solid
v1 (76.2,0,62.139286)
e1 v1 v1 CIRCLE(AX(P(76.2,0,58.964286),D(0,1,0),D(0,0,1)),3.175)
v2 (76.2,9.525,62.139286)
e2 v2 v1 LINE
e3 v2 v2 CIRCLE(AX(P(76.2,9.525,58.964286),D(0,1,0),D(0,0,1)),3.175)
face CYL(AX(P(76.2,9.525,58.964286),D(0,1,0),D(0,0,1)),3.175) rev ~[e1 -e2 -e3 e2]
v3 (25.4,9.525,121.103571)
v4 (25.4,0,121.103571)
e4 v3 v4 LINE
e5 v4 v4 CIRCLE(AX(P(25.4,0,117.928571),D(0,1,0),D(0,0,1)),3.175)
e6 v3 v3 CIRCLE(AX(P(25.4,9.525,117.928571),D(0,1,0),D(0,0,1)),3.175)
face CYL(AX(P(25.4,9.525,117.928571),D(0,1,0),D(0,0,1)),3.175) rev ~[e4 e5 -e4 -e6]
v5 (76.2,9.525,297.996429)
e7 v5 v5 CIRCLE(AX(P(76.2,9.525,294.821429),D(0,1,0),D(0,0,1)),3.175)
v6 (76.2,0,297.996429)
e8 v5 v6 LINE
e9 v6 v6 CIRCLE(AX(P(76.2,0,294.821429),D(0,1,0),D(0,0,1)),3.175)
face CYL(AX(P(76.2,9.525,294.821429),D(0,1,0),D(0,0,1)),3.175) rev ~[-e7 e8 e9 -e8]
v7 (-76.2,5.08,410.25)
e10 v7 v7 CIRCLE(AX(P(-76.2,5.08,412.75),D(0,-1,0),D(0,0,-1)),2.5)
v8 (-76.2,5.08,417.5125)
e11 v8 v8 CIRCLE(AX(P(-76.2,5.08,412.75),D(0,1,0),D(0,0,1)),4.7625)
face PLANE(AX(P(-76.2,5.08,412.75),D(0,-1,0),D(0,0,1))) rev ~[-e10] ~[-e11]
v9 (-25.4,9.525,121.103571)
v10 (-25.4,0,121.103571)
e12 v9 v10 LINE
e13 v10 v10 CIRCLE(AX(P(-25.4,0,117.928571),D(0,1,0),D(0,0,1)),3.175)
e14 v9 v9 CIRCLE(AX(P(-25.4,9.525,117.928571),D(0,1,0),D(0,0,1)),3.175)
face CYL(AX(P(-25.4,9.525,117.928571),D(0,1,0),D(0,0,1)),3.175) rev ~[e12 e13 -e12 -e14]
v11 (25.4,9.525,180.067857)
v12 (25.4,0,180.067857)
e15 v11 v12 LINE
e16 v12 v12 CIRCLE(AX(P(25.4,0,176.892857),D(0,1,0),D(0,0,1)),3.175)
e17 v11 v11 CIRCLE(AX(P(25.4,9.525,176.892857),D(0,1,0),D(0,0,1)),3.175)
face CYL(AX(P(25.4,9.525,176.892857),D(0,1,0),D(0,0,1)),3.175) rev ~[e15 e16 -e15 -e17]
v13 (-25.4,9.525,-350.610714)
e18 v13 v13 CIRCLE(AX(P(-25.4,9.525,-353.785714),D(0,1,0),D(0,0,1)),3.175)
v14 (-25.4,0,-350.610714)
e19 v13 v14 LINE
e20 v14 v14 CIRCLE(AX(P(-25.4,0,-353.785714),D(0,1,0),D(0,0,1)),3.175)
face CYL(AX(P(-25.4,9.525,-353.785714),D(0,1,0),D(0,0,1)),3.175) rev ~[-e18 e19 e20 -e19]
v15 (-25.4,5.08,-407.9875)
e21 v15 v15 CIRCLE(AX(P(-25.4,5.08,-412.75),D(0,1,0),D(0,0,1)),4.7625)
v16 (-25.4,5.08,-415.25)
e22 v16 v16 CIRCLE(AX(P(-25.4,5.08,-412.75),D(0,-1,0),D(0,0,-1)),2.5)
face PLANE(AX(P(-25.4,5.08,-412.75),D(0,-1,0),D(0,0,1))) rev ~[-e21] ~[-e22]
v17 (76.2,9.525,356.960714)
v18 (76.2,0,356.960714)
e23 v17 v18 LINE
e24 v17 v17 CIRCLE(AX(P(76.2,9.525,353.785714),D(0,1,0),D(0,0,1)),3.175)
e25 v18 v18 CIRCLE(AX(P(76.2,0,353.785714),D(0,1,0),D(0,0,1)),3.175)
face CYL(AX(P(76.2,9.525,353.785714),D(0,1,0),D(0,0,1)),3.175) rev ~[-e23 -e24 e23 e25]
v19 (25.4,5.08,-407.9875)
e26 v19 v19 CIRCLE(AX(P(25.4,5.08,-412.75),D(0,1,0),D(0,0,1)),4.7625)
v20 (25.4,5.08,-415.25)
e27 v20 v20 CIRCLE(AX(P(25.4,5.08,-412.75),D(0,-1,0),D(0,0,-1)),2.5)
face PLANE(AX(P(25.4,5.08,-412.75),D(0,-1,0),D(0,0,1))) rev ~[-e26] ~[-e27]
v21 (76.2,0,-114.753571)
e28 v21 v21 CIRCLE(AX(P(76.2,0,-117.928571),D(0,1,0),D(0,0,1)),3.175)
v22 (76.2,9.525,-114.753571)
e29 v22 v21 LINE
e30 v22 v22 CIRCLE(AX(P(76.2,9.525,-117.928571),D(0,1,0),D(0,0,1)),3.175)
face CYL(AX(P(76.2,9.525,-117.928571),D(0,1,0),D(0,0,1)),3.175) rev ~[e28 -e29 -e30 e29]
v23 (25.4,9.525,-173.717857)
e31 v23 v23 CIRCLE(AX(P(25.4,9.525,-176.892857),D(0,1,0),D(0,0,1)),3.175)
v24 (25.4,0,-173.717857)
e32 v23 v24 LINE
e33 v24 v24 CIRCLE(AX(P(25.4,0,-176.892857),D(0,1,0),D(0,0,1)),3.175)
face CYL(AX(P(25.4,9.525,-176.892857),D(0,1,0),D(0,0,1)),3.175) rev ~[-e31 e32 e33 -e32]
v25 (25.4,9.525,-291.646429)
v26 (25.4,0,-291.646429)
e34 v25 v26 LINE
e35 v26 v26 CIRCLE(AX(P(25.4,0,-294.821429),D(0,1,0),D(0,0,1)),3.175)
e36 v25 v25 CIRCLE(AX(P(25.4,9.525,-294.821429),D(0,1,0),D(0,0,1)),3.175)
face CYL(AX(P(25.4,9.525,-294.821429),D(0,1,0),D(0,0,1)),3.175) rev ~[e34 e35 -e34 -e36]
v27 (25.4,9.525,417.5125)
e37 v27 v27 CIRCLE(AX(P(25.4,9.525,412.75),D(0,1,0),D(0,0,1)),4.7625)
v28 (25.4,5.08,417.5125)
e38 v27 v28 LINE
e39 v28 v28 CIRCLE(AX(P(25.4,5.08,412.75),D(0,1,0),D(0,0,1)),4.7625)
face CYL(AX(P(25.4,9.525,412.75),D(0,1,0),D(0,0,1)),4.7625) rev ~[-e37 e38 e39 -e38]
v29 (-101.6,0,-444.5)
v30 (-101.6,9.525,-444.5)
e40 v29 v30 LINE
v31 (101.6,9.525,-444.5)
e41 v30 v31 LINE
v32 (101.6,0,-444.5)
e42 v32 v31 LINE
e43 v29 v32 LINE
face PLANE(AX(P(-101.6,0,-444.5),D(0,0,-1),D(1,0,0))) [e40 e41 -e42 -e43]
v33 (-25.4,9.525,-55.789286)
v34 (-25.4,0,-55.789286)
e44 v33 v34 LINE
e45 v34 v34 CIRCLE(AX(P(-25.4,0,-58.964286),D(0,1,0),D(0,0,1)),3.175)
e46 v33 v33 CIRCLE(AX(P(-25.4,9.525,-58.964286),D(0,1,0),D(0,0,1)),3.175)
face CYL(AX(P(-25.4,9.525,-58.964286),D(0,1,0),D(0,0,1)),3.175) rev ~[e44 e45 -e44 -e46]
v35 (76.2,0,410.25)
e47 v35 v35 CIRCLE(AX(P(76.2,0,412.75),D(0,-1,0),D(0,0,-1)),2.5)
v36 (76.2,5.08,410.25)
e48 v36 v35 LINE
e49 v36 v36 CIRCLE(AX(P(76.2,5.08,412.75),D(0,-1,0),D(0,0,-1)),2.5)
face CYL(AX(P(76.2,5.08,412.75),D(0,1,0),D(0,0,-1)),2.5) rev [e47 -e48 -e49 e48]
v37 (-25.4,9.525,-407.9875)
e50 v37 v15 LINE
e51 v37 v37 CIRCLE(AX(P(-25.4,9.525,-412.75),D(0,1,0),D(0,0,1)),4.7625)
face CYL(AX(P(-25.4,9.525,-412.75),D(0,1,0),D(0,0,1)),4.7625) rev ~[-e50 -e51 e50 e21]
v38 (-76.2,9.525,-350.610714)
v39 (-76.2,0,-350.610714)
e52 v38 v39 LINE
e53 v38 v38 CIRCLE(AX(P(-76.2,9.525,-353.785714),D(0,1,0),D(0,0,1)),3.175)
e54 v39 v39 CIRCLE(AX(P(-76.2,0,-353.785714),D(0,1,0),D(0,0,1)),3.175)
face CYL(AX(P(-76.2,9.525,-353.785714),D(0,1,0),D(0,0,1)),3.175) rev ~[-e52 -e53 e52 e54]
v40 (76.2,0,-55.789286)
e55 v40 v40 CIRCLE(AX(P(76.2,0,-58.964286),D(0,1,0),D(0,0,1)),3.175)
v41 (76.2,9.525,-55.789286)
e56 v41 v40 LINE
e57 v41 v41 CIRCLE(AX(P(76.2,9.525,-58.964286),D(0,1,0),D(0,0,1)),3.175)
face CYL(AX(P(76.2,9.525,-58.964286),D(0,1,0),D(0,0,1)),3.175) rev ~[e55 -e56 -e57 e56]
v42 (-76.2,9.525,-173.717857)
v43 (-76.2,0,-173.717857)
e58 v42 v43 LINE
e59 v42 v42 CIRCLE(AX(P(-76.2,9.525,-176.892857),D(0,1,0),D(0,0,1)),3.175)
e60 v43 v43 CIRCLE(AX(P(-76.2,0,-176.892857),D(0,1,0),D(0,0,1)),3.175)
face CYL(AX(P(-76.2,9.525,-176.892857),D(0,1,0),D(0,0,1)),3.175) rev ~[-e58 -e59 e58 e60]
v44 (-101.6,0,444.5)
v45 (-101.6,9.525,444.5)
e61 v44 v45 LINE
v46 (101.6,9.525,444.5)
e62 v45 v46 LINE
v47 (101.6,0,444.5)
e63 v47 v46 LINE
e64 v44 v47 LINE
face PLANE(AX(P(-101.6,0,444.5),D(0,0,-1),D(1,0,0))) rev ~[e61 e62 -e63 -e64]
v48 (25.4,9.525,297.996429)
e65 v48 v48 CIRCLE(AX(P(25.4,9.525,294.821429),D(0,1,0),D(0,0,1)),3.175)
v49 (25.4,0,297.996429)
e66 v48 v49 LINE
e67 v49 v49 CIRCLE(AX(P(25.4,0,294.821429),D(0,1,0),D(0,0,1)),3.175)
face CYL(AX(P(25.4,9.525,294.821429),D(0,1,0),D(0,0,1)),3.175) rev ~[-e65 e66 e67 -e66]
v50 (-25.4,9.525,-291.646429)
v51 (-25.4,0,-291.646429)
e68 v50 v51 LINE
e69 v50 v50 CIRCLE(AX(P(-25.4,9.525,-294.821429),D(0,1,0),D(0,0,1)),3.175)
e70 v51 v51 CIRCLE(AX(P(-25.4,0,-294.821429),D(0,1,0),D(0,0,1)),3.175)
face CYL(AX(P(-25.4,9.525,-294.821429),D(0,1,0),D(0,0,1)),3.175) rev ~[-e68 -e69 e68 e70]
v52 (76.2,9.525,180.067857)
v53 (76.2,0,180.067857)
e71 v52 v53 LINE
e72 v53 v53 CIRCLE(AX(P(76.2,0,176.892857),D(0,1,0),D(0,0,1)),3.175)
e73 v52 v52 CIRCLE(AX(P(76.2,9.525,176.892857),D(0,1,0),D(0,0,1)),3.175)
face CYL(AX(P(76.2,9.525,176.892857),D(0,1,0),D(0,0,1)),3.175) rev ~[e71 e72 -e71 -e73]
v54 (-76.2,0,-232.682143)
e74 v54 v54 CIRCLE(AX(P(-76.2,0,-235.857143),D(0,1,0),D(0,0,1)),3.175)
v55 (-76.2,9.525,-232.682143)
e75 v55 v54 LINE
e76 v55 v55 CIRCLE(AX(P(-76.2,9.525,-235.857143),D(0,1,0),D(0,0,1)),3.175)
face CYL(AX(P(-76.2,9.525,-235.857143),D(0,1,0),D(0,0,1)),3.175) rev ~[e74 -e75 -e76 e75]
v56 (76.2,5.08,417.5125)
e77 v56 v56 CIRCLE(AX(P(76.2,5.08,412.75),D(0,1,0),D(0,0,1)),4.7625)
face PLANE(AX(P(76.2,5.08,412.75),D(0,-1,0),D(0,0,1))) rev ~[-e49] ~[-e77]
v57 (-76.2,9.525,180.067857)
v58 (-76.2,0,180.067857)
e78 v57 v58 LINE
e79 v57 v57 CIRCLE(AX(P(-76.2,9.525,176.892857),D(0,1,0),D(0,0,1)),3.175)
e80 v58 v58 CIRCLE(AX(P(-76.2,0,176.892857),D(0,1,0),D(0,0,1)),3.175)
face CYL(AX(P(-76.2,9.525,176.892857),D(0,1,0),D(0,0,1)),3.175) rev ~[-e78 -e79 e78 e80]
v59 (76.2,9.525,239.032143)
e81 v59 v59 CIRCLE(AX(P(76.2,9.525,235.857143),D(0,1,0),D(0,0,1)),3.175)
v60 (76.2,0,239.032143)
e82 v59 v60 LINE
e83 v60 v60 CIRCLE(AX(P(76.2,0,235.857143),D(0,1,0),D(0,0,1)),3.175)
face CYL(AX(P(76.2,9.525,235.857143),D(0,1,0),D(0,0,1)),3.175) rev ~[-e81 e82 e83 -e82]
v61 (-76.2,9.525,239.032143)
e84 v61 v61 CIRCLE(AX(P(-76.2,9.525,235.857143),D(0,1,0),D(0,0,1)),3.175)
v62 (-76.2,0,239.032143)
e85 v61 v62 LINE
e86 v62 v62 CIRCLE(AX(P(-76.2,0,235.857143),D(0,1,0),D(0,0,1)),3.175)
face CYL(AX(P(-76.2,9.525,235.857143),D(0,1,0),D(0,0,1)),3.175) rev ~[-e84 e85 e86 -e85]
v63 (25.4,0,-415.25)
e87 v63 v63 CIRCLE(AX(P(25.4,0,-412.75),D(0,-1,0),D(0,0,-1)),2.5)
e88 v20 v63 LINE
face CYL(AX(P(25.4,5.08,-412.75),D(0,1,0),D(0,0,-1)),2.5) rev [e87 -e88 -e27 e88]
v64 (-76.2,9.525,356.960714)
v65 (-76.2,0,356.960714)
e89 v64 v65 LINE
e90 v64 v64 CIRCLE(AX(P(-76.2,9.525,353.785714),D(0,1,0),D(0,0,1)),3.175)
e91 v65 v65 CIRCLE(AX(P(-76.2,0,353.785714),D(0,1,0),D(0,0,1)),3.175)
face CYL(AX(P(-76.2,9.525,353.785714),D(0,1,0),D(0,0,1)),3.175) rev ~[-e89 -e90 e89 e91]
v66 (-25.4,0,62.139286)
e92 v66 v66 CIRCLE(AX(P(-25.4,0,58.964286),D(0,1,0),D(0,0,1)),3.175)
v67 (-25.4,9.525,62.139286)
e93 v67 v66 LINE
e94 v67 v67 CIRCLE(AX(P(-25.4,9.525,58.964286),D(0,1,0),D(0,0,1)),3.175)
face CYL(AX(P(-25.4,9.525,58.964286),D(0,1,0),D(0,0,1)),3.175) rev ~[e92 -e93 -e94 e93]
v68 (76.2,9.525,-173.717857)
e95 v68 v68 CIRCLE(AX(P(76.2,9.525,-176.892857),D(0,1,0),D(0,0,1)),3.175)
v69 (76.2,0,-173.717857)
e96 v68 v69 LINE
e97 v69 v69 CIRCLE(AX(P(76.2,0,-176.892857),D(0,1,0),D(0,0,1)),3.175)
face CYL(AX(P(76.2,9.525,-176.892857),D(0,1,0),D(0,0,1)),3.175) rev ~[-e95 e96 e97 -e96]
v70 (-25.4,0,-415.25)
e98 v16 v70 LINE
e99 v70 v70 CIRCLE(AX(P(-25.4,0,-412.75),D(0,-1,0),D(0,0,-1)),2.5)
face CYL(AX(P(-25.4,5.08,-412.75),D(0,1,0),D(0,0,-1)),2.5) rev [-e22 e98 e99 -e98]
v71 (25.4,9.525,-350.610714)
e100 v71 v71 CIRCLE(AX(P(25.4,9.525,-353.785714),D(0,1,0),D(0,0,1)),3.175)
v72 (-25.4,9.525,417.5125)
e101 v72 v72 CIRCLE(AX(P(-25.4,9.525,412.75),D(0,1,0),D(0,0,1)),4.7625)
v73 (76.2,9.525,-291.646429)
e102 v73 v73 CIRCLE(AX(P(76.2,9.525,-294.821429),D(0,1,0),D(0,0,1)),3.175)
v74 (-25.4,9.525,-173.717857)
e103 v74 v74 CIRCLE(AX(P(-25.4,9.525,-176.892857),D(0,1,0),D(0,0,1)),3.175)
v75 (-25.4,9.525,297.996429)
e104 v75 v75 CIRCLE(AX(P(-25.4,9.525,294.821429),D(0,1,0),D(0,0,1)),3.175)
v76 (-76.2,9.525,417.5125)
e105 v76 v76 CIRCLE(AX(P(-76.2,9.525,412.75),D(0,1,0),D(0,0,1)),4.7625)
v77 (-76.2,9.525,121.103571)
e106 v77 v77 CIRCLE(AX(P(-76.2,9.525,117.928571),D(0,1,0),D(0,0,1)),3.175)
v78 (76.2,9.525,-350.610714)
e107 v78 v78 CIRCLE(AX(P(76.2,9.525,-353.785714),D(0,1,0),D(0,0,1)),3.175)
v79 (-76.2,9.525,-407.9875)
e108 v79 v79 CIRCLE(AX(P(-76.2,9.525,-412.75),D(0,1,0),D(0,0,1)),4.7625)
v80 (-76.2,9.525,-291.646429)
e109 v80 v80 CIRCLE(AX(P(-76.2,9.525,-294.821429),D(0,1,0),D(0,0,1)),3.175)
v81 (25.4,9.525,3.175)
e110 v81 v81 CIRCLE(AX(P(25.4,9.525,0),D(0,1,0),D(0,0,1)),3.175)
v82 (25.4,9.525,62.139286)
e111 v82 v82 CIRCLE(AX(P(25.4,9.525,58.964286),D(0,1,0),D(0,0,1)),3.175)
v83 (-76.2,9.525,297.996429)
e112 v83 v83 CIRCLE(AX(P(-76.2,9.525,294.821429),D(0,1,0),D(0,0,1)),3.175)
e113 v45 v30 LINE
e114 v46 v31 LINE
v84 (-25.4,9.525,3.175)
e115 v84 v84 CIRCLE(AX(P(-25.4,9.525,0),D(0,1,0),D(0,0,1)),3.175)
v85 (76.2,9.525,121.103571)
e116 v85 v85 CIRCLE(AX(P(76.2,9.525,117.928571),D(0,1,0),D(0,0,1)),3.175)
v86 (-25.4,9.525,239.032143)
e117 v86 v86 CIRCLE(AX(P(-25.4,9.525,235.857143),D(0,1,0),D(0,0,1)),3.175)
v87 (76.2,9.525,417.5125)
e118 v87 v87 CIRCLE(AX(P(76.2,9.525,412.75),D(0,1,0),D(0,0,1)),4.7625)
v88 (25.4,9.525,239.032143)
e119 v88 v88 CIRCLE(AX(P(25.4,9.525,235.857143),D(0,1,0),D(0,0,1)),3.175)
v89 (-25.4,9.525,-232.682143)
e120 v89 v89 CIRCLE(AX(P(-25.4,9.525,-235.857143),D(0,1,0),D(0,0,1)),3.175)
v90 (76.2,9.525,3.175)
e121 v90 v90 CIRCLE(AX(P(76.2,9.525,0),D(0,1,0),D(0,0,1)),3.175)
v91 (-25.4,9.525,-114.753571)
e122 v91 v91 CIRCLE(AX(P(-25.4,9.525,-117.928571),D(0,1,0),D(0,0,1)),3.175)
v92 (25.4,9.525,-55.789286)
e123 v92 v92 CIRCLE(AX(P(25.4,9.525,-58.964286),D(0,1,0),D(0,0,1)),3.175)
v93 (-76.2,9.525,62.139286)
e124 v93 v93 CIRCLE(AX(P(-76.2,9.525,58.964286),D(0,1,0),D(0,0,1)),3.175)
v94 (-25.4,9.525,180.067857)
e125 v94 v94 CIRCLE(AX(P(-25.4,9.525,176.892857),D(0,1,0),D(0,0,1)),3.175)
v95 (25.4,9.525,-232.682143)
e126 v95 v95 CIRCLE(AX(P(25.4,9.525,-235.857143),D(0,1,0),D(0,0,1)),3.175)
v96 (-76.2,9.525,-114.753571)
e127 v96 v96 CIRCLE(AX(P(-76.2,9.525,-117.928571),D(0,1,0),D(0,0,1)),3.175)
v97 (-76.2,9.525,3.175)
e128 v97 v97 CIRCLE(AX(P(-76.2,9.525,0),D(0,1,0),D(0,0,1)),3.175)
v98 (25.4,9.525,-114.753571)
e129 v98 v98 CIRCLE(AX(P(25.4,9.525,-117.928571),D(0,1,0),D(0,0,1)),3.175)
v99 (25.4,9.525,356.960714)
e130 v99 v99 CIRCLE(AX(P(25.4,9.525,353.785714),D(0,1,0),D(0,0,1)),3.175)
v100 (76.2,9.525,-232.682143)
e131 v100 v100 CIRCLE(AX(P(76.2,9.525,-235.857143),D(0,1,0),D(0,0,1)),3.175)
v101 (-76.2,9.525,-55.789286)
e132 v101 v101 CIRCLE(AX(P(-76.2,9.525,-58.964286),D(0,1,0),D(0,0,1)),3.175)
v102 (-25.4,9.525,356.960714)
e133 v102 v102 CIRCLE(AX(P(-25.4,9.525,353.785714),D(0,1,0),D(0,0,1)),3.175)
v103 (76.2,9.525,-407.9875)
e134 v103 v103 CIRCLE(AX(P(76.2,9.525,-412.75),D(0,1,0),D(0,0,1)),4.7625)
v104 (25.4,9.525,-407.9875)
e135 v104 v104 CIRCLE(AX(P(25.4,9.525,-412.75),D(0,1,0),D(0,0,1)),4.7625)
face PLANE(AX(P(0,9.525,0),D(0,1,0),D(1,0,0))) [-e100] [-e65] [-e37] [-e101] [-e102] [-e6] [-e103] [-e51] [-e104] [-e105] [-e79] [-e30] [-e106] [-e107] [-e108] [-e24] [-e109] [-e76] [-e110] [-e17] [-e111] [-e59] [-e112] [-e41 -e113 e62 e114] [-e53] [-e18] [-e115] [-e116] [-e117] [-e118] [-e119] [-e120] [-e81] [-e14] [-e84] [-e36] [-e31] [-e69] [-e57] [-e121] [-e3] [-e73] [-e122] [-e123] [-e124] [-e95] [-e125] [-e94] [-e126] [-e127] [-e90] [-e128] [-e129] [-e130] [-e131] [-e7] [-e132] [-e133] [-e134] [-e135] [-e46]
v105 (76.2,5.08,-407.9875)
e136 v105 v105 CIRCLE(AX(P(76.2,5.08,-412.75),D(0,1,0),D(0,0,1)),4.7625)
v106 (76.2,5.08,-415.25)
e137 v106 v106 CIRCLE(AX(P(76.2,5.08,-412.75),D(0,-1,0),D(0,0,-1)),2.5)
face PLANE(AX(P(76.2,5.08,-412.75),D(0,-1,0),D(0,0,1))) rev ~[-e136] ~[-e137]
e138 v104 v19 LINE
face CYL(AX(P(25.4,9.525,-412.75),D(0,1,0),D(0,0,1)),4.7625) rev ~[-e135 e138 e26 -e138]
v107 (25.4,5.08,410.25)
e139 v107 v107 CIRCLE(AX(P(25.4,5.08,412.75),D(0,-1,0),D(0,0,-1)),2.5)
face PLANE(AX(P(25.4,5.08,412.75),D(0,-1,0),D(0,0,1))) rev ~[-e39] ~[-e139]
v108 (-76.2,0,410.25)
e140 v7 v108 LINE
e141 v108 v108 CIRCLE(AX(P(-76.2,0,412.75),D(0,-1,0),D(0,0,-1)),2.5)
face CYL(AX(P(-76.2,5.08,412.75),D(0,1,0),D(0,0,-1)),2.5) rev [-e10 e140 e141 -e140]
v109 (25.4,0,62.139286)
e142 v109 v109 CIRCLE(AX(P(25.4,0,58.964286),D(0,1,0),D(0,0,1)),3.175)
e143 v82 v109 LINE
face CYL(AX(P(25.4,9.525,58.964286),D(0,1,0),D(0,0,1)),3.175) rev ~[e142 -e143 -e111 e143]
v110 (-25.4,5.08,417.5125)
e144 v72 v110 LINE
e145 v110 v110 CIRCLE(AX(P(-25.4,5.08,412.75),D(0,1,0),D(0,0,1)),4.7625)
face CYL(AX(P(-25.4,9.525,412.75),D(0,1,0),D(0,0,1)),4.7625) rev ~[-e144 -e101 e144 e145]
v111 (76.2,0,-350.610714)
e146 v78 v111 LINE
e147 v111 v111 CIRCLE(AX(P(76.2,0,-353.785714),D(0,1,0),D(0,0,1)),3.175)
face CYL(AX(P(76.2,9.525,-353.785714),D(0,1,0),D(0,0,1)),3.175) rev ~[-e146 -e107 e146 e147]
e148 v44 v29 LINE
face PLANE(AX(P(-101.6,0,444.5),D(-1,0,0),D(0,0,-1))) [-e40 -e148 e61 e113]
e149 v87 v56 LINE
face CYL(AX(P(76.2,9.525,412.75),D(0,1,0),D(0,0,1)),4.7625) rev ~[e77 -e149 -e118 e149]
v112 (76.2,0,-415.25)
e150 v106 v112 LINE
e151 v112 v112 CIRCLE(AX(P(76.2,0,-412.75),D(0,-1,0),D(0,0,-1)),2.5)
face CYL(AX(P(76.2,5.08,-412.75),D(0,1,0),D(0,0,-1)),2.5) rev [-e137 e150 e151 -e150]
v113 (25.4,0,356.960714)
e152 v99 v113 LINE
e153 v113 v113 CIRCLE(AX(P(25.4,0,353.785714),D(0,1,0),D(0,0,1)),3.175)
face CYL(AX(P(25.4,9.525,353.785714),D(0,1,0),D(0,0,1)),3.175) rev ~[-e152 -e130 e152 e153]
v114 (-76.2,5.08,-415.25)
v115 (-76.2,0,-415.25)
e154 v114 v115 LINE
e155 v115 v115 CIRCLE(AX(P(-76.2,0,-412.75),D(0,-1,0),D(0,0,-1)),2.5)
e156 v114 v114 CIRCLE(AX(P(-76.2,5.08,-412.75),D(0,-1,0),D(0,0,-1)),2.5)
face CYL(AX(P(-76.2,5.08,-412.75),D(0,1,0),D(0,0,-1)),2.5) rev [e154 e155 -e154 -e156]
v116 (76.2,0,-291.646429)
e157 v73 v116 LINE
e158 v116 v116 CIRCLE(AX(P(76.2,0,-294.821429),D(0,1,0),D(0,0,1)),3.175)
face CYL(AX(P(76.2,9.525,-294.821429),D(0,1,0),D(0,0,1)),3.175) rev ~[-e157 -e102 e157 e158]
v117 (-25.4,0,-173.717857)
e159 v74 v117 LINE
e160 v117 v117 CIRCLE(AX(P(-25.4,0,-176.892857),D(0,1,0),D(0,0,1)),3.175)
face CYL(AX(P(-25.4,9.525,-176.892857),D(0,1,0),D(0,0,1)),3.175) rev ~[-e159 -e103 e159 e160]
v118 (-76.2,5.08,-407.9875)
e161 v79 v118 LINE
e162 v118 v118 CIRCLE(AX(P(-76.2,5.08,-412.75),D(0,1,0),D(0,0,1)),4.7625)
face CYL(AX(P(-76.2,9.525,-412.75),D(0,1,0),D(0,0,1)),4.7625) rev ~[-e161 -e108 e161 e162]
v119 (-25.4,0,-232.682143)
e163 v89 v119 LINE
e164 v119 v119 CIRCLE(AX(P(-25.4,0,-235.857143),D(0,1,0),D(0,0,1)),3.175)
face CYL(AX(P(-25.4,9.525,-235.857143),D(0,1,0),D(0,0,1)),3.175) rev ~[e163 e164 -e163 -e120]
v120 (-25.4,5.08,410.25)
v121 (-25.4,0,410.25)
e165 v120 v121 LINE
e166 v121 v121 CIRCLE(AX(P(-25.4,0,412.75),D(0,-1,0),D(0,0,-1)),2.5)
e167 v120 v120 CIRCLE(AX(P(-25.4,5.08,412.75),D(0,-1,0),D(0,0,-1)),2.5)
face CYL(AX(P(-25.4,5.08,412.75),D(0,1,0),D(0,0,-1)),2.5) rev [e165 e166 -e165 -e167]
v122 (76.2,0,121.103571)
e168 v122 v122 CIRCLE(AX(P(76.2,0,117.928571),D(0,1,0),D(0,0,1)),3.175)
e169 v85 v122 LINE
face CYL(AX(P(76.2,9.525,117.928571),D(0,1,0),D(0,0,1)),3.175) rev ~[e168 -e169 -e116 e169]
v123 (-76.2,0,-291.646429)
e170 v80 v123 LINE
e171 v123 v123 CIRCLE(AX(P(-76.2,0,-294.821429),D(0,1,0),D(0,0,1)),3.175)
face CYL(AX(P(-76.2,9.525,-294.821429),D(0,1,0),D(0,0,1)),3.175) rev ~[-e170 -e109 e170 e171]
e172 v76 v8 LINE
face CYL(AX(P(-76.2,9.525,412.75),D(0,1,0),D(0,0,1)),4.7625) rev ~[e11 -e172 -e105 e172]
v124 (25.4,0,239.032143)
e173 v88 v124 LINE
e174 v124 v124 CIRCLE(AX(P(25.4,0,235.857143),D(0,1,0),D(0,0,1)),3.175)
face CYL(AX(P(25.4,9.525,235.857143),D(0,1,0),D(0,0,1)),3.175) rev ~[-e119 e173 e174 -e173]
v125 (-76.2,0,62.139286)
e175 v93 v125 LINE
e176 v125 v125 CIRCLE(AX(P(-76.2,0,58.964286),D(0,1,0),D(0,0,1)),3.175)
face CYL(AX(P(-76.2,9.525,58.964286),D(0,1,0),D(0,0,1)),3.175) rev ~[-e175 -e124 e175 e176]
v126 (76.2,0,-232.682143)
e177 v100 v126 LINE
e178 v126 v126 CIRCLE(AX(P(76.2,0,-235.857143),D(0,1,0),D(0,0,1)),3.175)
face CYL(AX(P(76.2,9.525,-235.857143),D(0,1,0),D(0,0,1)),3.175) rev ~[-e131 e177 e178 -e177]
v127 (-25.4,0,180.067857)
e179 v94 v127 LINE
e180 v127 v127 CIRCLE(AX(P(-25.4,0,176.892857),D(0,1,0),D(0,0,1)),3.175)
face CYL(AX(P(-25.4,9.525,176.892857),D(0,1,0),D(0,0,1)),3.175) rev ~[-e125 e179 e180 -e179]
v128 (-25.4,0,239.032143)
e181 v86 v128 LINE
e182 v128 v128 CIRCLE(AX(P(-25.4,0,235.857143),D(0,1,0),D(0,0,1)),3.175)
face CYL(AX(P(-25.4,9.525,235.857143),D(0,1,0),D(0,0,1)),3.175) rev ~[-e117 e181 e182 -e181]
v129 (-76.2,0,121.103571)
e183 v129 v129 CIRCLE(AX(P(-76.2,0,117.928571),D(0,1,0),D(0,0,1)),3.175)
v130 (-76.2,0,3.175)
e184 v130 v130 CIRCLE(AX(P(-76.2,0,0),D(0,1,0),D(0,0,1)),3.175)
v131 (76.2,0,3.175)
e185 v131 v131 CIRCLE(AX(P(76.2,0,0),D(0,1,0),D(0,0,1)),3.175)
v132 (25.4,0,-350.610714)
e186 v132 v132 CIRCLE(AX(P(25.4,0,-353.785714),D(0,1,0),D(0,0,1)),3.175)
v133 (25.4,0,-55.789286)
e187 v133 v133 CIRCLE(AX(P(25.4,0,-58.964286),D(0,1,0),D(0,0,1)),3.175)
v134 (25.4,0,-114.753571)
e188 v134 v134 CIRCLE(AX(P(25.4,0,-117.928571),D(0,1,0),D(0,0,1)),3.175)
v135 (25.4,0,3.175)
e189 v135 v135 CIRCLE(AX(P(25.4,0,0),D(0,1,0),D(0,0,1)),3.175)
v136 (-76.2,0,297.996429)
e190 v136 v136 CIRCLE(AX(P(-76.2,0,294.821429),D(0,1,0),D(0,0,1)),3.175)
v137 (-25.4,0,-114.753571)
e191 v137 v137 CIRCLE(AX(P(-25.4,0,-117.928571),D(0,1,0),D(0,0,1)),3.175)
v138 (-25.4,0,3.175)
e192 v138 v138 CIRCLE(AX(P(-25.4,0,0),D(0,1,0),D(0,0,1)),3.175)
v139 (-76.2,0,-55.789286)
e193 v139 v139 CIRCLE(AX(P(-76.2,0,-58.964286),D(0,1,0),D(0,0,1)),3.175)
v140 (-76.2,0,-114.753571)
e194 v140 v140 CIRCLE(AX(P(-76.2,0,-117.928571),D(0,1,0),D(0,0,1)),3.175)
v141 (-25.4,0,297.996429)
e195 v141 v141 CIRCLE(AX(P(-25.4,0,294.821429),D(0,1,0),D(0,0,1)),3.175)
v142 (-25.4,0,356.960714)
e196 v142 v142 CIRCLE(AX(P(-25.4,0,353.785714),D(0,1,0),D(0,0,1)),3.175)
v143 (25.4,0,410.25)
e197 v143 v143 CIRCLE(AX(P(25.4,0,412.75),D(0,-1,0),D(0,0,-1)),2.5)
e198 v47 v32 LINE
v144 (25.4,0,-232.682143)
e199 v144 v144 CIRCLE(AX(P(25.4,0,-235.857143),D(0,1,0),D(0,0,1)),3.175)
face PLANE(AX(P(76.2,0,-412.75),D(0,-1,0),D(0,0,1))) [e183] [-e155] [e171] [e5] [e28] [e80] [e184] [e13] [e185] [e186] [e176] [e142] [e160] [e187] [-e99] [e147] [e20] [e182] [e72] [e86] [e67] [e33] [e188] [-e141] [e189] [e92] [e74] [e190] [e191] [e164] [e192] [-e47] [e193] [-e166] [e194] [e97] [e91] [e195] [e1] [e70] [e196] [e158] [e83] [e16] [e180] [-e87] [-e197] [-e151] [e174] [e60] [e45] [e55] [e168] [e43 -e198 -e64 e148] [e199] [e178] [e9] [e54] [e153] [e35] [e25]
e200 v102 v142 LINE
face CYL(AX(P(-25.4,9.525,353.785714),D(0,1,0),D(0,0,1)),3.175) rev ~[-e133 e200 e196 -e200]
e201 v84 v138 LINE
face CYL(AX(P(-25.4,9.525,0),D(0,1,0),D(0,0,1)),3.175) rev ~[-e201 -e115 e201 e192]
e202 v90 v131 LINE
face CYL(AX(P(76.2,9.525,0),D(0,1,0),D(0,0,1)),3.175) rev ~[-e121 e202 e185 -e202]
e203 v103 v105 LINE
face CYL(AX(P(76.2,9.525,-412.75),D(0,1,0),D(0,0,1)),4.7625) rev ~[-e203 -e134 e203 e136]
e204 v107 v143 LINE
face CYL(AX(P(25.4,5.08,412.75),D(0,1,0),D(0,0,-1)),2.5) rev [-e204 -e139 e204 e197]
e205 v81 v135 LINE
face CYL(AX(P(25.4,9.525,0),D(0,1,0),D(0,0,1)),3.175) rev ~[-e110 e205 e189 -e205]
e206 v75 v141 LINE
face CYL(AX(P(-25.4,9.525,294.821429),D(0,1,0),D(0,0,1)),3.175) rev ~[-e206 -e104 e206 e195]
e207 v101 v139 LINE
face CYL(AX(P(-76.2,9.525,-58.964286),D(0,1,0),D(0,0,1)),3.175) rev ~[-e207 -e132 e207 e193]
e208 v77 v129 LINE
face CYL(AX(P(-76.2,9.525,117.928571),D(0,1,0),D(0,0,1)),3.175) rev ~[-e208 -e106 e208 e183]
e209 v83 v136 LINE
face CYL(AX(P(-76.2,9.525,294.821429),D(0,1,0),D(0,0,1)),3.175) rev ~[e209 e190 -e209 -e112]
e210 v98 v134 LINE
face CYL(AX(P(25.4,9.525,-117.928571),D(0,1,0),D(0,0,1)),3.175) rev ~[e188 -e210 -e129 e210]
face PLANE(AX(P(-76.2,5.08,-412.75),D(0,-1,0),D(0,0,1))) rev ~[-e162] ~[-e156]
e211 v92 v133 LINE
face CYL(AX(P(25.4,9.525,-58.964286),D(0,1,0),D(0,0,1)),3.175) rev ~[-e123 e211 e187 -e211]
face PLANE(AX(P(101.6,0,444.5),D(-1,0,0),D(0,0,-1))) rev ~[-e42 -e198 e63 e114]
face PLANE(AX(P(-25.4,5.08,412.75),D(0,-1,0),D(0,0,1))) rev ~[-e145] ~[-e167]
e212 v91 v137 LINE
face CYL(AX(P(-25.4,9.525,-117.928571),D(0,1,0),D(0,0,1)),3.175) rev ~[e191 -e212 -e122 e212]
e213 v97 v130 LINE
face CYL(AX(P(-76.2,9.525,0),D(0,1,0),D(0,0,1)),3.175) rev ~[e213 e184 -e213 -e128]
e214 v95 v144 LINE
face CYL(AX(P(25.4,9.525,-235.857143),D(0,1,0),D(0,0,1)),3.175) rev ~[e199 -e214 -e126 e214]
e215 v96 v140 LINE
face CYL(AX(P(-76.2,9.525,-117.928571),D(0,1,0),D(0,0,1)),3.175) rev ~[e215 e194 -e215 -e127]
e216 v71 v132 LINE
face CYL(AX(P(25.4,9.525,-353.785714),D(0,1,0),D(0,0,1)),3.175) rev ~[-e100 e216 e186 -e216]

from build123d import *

# Parameters (mm, degrees)
SKETCH1_W           = 203.2
SKETCH1_H           = 889
BOSS_EXTRUDE1_DEPTH = 9.525
SKETCH2_R           = 3.175
CUT_EXTRUDE1_DEPTH  = 457.063082945
BOSS_EXTRUDE3_START = -5.08
SKETCH10_R          = 3.175
SKETCH10_R_2        = 2.5
BOSS_EXTRUDE3_DEPTH = 5.08
SKETCH11_R          = 4.7625
CUT_EXTRUDE2_DEPTH  = 4.445


with BuildPart() as part:
    # Sketch1 → Boss-Extrude1 (new body)
    with BuildSketch(Plane(origin=(0, 0, 0), x_dir=(1, 0, 0), z_dir=(0, 1, 0))):
        Rectangle(SKETCH1_W, SKETCH1_H)
    extrude(amount=BOSS_EXTRUDE1_DEPTH)

    # Sketch2 → Cut-Extrude1 (cut, through all)
    with BuildSketch(Plane(origin=(0, 9.525, 0), x_dir=(1, 0, 0), z_dir=(0, 1, 0))):
        with Locations(Location((-76.2, -412.75, 0), (0, 0, 270))):
            Circle(SKETCH2_R)
        with Locations(Location((-25.4, -412.75, 0), (0, 0, 270))):
            Circle(SKETCH2_R)
        with Locations(Location((25.4, -412.75, 0), (0, 0, 270))):
            Circle(SKETCH2_R)
        with Locations(Location((-76.2, -353.785714286, 0), (0, 0, 270))):
            Circle(SKETCH2_R)
        with Locations(Location((-25.4, -353.785714286, 0), (0, 0, 270))):
            Circle(SKETCH2_R)
        with Locations(Location((25.4, -353.785714286, 0), (0, 0, 270))):
            Circle(SKETCH2_R)
        with Locations(Location((-76.2, -294.821428571, 0), (0, 0, 270))):
            Circle(SKETCH2_R)
        with Locations(Location((-25.4, -294.821428571, 0), (0, 0, 270))):
            Circle(SKETCH2_R)
        with Locations(Location((25.4, -294.821428571, 0), (0, 0, 270))):
            Circle(SKETCH2_R)
        with Locations(Location((-76.2, -235.857142857, 0), (0, 0, 270))):
            Circle(SKETCH2_R)
        with Locations(Location((-25.4, -235.857142857, 0), (0, 0, 270))):
            Circle(SKETCH2_R)
        with Locations(Location((25.4, -235.857142857, 0), (0, 0, 270))):
            Circle(SKETCH2_R)
        with Locations(Location((-76.2, -176.892857143, 0), (0, 0, 270))):
            Circle(SKETCH2_R)
        with Locations(Location((-25.4, -176.892857143, 0), (0, 0, 270))):
            Circle(SKETCH2_R)
        with Locations(Location((25.4, -176.892857143, 0), (0, 0, 270))):
            Circle(SKETCH2_R)
        with Locations(Location((-76.2, -117.928571429, 0), (0, 0, 270))):
            Circle(SKETCH2_R)
        with Locations(Location((-25.4, -117.928571429, 0), (0, 0, 270))):
            Circle(SKETCH2_R)
        with Locations(Location((25.4, -117.928571429, 0), (0, 0, 270))):
            Circle(SKETCH2_R)
        with Locations(Location((-76.2, -58.964285714, 0), (0, 0, 270))):
            Circle(SKETCH2_R)
        with Locations(Location((-25.4, -58.964285714, 0), (0, 0, 270))):
            Circle(SKETCH2_R)
        with Locations(Location((25.4, -58.964285714, 0), (0, 0, 270))):
            Circle(SKETCH2_R)
        with Locations(Location((-76.2, 0, 0), (0, 0, 270))):
            Circle(SKETCH2_R)
        with Locations(Location((-25.4, 0, 0), (0, 0, 270))):
            Circle(SKETCH2_R)
        with Locations(Location((25.4, 0, 0), (0, 0, 270))):
            Circle(SKETCH2_R)
        with Locations(Location((-76.2, 58.964285714, 0), (0, 0, 270))):
            Circle(SKETCH2_R)
        with Locations(Location((-25.4, 58.964285714, 0), (0, 0, 270))):
            Circle(SKETCH2_R)
        with Locations(Location((25.4, 58.964285714, 0), (0, 0, 270))):
            Circle(SKETCH2_R)
        with Locations(Location((-76.2, 117.928571429, 0), (0, 0, 270))):
            Circle(SKETCH2_R)
        with Locations(Location((-25.4, 117.928571429, 0), (0, 0, 270))):
            Circle(SKETCH2_R)
        with Locations(Location((25.4, 117.928571429, 0), (0, 0, 270))):
            Circle(SKETCH2_R)
        with Locations(Location((-76.2, 176.892857143, 0), (0, 0, 270))):
            Circle(SKETCH2_R)
        with Locations(Location((-25.4, 176.892857143, 0), (0, 0, 270))):
            Circle(SKETCH2_R)
        with Locations(Location((25.4, 176.892857143, 0), (0, 0, 270))):
            Circle(SKETCH2_R)
        with Locations(Location((-76.2, 235.857142857, 0), (0, 0, 270))):
            Circle(SKETCH2_R)
        with Locations(Location((-25.4, 235.857142857, 0), (0, 0, 270))):
            Circle(SKETCH2_R)
        with Locations(Location((25.4, 235.857142857, 0), (0, 0, 270))):
            Circle(SKETCH2_R)
        with Locations(Location((-76.2, 294.821428571, 0), (0, 0, 270))):
            Circle(SKETCH2_R)
        with Locations(Location((-25.4, 294.821428571, 0), (0, 0, 270))):
            Circle(SKETCH2_R)
        with Locations(Location((25.4, 294.821428571, 0), (0, 0, 270))):
            Circle(SKETCH2_R)
        with Locations(Location((-76.2, 353.785714286, 0), (0, 0, 270))):
            Circle(SKETCH2_R)
        with Locations(Location((-25.4, 353.785714286, 0), (0, 0, 270))):
            Circle(SKETCH2_R)
        with Locations(Location((25.4, 353.785714286, 0), (0, 0, 270))):
            Circle(SKETCH2_R)
        with Locations(Location((-76.2, 412.75, 0), (0, 0, 270))):
            Circle(SKETCH2_R)
        with Locations(Location((-25.4, 412.75, 0), (0, 0, 270))):
            Circle(SKETCH2_R)
        with Locations(Location((25.4, 412.75, 0), (0, 0, 270))):
            Circle(SKETCH2_R)
        with Locations(Location((76.2, -412.75, 0), (0, 0, 270))):
            Circle(SKETCH2_R)
        with Locations(Location((76.2, -353.785714286, 0), (0, 0, 270))):
            Circle(SKETCH2_R)
        with Locations(Location((76.2, -294.821428571, 0), (0, 0, 270))):
            Circle(SKETCH2_R)
        with Locations(Location((76.2, -235.857142857, 0), (0, 0, 270))):
            Circle(SKETCH2_R)
        with Locations(Location((76.2, -176.892857143, 0), (0, 0, 270))):
            Circle(SKETCH2_R)
        with Locations(Location((76.2, -117.928571429, 0), (0, 0, 270))):
            Circle(SKETCH2_R)
        with Locations(Location((76.2, -58.964285714, 0), (0, 0, 270))):
            Circle(SKETCH2_R)
        with Locations(Location((76.2, 0, 0), (0, 0, 270))):
            Circle(SKETCH2_R)
        with Locations(Location((76.2, 58.964285714, 0), (0, 0, 270))):
            Circle(SKETCH2_R)
        with Locations(Location((76.2, 117.928571429, 0), (0, 0, 270))):
            Circle(SKETCH2_R)
        with Locations(Location((76.2, 176.892857143, 0), (0, 0, 270))):
            Circle(SKETCH2_R)
        with Locations(Location((76.2, 235.857142857, 0), (0, 0, 270))):
            Circle(SKETCH2_R)
        with Locations(Location((76.2, 294.821428571, 0), (0, 0, 270))):
            Circle(SKETCH2_R)
        with Locations(Location((76.2, 353.785714286, 0), (0, 0, 270))):
            Circle(SKETCH2_R)
        with Locations(Location((76.2, 412.75, 0), (0, 0, 270))):
            Circle(SKETCH2_R)
    extrude(amount=-CUT_EXTRUDE1_DEPTH, mode=Mode.SUBTRACT)

    # Sketch10 → Boss-Extrude3 (add)
    # profile 1 of 8: a face of its own
    with BuildSketch(Plane.XZ.offset(BOSS_EXTRUDE3_START)):
        with Locations(Location((76.2, -412.75, 0), (0, 0, 90))):
            Circle(SKETCH10_R)
        with Locations(Location((76.2, -412.75, 0), (0, 0, 270))):
            Circle(SKETCH10_R_2, mode=Mode.SUBTRACT)
    # profile 2 of 8: a face of its own
    with BuildSketch(Plane.XZ.offset(BOSS_EXTRUDE3_START)):
        with Locations(Location((25.4, -412.75, 0), (0, 0, 90))):
            Circle(SKETCH10_R)
        with Locations(Location((25.4, -412.75, 0), (0, 0, 270))):
            Circle(SKETCH10_R_2, mode=Mode.SUBTRACT)
    # profile 3 of 8: a face of its own
    with BuildSketch(Plane.XZ.offset(BOSS_EXTRUDE3_START)):
        with Locations(Location((-25.4, -412.75, 0), (0, 0, 90))):
            Circle(SKETCH10_R)
        with Locations(Location((-25.4, -412.75, 0), (0, 0, 270))):
            Circle(SKETCH10_R_2, mode=Mode.SUBTRACT)
    # profile 4 of 8: a face of its own
    with BuildSketch(Plane.XZ.offset(BOSS_EXTRUDE3_START)):
        with Locations(Location((-76.2, -412.75, 0), (0, 0, 90))):
            Circle(SKETCH10_R)
        with Locations(Location((-76.2, -412.75, 0), (0, 0, 270))):
            Circle(SKETCH10_R_2, mode=Mode.SUBTRACT)
    # profile 5 of 8: a face of its own
    with BuildSketch(Plane.XZ.offset(BOSS_EXTRUDE3_START)):
        with Locations(Location((76.2, 412.75, 0), (0, 0, 90))):
            Circle(SKETCH10_R)
        with Locations(Location((76.2, 412.75, 0), (0, 0, 270))):
            Circle(SKETCH10_R_2, mode=Mode.SUBTRACT)
    # profile 6 of 8: a face of its own
    with BuildSketch(Plane.XZ.offset(BOSS_EXTRUDE3_START)):
        with Locations(Location((25.4, 412.75, 0), (0, 0, 90))):
            Circle(SKETCH10_R)
        with Locations(Location((25.4, 412.75, 0), (0, 0, 270))):
            Circle(SKETCH10_R_2, mode=Mode.SUBTRACT)
    # profile 7 of 8: a face of its own
    with BuildSketch(Plane.XZ.offset(BOSS_EXTRUDE3_START)):
        with Locations(Location((-25.4, 412.75, 0), (0, 0, 90))):
            Circle(SKETCH10_R)
        with Locations(Location((-25.4, 412.75, 0), (0, 0, 270))):
            Circle(SKETCH10_R_2, mode=Mode.SUBTRACT)
    # profile 8 of 8: a face of its own
    with BuildSketch(Plane.XZ.offset(BOSS_EXTRUDE3_START)):
        with Locations(Location((-76.2, 412.75, 0), (0, 0, 90))):
            Circle(SKETCH10_R)
        with Locations(Location((-76.2, 412.75, 0), (0, 0, 270))):
            Circle(SKETCH10_R_2, mode=Mode.SUBTRACT)
    extrude(amount=BOSS_EXTRUDE3_DEPTH)

    # Sketch11 → Cut-Extrude2 (cut)
    with BuildSketch(Plane(origin=(0, 9.525, 0), x_dir=(1, 0, 0), z_dir=(0, 1, 0))):
        with Locations(Location((-76.2, -412.75, 0), (0, 0, 270))):
            Circle(SKETCH11_R)
        with Locations(Location((-25.4, -412.75, 0), (0, 0, 270))):
            Circle(SKETCH11_R)
        with Locations(Location((25.4, -412.75, 0), (0, 0, 270))):
            Circle(SKETCH11_R)
        with Locations(Location((76.2, -412.75, 0), (0, 0, 270))):
            Circle(SKETCH11_R)
        with Locations(Location((-76.2, 412.75, 0), (0, 0, 270))):
            Circle(SKETCH11_R)
        with Locations(Location((-25.4, 412.75, 0), (0, 0, 270))):
            Circle(SKETCH11_R)
        with Locations(Location((25.4, 412.75, 0), (0, 0, 270))):
            Circle(SKETCH11_R)
        with Locations(Location((76.2, 412.75, 0), (0, 0, 270))):
            Circle(SKETCH11_R)
    extrude(amount=-CUT_EXTRUDE2_DEPTH, mode=Mode.SUBTRACT)


solid = part.part
